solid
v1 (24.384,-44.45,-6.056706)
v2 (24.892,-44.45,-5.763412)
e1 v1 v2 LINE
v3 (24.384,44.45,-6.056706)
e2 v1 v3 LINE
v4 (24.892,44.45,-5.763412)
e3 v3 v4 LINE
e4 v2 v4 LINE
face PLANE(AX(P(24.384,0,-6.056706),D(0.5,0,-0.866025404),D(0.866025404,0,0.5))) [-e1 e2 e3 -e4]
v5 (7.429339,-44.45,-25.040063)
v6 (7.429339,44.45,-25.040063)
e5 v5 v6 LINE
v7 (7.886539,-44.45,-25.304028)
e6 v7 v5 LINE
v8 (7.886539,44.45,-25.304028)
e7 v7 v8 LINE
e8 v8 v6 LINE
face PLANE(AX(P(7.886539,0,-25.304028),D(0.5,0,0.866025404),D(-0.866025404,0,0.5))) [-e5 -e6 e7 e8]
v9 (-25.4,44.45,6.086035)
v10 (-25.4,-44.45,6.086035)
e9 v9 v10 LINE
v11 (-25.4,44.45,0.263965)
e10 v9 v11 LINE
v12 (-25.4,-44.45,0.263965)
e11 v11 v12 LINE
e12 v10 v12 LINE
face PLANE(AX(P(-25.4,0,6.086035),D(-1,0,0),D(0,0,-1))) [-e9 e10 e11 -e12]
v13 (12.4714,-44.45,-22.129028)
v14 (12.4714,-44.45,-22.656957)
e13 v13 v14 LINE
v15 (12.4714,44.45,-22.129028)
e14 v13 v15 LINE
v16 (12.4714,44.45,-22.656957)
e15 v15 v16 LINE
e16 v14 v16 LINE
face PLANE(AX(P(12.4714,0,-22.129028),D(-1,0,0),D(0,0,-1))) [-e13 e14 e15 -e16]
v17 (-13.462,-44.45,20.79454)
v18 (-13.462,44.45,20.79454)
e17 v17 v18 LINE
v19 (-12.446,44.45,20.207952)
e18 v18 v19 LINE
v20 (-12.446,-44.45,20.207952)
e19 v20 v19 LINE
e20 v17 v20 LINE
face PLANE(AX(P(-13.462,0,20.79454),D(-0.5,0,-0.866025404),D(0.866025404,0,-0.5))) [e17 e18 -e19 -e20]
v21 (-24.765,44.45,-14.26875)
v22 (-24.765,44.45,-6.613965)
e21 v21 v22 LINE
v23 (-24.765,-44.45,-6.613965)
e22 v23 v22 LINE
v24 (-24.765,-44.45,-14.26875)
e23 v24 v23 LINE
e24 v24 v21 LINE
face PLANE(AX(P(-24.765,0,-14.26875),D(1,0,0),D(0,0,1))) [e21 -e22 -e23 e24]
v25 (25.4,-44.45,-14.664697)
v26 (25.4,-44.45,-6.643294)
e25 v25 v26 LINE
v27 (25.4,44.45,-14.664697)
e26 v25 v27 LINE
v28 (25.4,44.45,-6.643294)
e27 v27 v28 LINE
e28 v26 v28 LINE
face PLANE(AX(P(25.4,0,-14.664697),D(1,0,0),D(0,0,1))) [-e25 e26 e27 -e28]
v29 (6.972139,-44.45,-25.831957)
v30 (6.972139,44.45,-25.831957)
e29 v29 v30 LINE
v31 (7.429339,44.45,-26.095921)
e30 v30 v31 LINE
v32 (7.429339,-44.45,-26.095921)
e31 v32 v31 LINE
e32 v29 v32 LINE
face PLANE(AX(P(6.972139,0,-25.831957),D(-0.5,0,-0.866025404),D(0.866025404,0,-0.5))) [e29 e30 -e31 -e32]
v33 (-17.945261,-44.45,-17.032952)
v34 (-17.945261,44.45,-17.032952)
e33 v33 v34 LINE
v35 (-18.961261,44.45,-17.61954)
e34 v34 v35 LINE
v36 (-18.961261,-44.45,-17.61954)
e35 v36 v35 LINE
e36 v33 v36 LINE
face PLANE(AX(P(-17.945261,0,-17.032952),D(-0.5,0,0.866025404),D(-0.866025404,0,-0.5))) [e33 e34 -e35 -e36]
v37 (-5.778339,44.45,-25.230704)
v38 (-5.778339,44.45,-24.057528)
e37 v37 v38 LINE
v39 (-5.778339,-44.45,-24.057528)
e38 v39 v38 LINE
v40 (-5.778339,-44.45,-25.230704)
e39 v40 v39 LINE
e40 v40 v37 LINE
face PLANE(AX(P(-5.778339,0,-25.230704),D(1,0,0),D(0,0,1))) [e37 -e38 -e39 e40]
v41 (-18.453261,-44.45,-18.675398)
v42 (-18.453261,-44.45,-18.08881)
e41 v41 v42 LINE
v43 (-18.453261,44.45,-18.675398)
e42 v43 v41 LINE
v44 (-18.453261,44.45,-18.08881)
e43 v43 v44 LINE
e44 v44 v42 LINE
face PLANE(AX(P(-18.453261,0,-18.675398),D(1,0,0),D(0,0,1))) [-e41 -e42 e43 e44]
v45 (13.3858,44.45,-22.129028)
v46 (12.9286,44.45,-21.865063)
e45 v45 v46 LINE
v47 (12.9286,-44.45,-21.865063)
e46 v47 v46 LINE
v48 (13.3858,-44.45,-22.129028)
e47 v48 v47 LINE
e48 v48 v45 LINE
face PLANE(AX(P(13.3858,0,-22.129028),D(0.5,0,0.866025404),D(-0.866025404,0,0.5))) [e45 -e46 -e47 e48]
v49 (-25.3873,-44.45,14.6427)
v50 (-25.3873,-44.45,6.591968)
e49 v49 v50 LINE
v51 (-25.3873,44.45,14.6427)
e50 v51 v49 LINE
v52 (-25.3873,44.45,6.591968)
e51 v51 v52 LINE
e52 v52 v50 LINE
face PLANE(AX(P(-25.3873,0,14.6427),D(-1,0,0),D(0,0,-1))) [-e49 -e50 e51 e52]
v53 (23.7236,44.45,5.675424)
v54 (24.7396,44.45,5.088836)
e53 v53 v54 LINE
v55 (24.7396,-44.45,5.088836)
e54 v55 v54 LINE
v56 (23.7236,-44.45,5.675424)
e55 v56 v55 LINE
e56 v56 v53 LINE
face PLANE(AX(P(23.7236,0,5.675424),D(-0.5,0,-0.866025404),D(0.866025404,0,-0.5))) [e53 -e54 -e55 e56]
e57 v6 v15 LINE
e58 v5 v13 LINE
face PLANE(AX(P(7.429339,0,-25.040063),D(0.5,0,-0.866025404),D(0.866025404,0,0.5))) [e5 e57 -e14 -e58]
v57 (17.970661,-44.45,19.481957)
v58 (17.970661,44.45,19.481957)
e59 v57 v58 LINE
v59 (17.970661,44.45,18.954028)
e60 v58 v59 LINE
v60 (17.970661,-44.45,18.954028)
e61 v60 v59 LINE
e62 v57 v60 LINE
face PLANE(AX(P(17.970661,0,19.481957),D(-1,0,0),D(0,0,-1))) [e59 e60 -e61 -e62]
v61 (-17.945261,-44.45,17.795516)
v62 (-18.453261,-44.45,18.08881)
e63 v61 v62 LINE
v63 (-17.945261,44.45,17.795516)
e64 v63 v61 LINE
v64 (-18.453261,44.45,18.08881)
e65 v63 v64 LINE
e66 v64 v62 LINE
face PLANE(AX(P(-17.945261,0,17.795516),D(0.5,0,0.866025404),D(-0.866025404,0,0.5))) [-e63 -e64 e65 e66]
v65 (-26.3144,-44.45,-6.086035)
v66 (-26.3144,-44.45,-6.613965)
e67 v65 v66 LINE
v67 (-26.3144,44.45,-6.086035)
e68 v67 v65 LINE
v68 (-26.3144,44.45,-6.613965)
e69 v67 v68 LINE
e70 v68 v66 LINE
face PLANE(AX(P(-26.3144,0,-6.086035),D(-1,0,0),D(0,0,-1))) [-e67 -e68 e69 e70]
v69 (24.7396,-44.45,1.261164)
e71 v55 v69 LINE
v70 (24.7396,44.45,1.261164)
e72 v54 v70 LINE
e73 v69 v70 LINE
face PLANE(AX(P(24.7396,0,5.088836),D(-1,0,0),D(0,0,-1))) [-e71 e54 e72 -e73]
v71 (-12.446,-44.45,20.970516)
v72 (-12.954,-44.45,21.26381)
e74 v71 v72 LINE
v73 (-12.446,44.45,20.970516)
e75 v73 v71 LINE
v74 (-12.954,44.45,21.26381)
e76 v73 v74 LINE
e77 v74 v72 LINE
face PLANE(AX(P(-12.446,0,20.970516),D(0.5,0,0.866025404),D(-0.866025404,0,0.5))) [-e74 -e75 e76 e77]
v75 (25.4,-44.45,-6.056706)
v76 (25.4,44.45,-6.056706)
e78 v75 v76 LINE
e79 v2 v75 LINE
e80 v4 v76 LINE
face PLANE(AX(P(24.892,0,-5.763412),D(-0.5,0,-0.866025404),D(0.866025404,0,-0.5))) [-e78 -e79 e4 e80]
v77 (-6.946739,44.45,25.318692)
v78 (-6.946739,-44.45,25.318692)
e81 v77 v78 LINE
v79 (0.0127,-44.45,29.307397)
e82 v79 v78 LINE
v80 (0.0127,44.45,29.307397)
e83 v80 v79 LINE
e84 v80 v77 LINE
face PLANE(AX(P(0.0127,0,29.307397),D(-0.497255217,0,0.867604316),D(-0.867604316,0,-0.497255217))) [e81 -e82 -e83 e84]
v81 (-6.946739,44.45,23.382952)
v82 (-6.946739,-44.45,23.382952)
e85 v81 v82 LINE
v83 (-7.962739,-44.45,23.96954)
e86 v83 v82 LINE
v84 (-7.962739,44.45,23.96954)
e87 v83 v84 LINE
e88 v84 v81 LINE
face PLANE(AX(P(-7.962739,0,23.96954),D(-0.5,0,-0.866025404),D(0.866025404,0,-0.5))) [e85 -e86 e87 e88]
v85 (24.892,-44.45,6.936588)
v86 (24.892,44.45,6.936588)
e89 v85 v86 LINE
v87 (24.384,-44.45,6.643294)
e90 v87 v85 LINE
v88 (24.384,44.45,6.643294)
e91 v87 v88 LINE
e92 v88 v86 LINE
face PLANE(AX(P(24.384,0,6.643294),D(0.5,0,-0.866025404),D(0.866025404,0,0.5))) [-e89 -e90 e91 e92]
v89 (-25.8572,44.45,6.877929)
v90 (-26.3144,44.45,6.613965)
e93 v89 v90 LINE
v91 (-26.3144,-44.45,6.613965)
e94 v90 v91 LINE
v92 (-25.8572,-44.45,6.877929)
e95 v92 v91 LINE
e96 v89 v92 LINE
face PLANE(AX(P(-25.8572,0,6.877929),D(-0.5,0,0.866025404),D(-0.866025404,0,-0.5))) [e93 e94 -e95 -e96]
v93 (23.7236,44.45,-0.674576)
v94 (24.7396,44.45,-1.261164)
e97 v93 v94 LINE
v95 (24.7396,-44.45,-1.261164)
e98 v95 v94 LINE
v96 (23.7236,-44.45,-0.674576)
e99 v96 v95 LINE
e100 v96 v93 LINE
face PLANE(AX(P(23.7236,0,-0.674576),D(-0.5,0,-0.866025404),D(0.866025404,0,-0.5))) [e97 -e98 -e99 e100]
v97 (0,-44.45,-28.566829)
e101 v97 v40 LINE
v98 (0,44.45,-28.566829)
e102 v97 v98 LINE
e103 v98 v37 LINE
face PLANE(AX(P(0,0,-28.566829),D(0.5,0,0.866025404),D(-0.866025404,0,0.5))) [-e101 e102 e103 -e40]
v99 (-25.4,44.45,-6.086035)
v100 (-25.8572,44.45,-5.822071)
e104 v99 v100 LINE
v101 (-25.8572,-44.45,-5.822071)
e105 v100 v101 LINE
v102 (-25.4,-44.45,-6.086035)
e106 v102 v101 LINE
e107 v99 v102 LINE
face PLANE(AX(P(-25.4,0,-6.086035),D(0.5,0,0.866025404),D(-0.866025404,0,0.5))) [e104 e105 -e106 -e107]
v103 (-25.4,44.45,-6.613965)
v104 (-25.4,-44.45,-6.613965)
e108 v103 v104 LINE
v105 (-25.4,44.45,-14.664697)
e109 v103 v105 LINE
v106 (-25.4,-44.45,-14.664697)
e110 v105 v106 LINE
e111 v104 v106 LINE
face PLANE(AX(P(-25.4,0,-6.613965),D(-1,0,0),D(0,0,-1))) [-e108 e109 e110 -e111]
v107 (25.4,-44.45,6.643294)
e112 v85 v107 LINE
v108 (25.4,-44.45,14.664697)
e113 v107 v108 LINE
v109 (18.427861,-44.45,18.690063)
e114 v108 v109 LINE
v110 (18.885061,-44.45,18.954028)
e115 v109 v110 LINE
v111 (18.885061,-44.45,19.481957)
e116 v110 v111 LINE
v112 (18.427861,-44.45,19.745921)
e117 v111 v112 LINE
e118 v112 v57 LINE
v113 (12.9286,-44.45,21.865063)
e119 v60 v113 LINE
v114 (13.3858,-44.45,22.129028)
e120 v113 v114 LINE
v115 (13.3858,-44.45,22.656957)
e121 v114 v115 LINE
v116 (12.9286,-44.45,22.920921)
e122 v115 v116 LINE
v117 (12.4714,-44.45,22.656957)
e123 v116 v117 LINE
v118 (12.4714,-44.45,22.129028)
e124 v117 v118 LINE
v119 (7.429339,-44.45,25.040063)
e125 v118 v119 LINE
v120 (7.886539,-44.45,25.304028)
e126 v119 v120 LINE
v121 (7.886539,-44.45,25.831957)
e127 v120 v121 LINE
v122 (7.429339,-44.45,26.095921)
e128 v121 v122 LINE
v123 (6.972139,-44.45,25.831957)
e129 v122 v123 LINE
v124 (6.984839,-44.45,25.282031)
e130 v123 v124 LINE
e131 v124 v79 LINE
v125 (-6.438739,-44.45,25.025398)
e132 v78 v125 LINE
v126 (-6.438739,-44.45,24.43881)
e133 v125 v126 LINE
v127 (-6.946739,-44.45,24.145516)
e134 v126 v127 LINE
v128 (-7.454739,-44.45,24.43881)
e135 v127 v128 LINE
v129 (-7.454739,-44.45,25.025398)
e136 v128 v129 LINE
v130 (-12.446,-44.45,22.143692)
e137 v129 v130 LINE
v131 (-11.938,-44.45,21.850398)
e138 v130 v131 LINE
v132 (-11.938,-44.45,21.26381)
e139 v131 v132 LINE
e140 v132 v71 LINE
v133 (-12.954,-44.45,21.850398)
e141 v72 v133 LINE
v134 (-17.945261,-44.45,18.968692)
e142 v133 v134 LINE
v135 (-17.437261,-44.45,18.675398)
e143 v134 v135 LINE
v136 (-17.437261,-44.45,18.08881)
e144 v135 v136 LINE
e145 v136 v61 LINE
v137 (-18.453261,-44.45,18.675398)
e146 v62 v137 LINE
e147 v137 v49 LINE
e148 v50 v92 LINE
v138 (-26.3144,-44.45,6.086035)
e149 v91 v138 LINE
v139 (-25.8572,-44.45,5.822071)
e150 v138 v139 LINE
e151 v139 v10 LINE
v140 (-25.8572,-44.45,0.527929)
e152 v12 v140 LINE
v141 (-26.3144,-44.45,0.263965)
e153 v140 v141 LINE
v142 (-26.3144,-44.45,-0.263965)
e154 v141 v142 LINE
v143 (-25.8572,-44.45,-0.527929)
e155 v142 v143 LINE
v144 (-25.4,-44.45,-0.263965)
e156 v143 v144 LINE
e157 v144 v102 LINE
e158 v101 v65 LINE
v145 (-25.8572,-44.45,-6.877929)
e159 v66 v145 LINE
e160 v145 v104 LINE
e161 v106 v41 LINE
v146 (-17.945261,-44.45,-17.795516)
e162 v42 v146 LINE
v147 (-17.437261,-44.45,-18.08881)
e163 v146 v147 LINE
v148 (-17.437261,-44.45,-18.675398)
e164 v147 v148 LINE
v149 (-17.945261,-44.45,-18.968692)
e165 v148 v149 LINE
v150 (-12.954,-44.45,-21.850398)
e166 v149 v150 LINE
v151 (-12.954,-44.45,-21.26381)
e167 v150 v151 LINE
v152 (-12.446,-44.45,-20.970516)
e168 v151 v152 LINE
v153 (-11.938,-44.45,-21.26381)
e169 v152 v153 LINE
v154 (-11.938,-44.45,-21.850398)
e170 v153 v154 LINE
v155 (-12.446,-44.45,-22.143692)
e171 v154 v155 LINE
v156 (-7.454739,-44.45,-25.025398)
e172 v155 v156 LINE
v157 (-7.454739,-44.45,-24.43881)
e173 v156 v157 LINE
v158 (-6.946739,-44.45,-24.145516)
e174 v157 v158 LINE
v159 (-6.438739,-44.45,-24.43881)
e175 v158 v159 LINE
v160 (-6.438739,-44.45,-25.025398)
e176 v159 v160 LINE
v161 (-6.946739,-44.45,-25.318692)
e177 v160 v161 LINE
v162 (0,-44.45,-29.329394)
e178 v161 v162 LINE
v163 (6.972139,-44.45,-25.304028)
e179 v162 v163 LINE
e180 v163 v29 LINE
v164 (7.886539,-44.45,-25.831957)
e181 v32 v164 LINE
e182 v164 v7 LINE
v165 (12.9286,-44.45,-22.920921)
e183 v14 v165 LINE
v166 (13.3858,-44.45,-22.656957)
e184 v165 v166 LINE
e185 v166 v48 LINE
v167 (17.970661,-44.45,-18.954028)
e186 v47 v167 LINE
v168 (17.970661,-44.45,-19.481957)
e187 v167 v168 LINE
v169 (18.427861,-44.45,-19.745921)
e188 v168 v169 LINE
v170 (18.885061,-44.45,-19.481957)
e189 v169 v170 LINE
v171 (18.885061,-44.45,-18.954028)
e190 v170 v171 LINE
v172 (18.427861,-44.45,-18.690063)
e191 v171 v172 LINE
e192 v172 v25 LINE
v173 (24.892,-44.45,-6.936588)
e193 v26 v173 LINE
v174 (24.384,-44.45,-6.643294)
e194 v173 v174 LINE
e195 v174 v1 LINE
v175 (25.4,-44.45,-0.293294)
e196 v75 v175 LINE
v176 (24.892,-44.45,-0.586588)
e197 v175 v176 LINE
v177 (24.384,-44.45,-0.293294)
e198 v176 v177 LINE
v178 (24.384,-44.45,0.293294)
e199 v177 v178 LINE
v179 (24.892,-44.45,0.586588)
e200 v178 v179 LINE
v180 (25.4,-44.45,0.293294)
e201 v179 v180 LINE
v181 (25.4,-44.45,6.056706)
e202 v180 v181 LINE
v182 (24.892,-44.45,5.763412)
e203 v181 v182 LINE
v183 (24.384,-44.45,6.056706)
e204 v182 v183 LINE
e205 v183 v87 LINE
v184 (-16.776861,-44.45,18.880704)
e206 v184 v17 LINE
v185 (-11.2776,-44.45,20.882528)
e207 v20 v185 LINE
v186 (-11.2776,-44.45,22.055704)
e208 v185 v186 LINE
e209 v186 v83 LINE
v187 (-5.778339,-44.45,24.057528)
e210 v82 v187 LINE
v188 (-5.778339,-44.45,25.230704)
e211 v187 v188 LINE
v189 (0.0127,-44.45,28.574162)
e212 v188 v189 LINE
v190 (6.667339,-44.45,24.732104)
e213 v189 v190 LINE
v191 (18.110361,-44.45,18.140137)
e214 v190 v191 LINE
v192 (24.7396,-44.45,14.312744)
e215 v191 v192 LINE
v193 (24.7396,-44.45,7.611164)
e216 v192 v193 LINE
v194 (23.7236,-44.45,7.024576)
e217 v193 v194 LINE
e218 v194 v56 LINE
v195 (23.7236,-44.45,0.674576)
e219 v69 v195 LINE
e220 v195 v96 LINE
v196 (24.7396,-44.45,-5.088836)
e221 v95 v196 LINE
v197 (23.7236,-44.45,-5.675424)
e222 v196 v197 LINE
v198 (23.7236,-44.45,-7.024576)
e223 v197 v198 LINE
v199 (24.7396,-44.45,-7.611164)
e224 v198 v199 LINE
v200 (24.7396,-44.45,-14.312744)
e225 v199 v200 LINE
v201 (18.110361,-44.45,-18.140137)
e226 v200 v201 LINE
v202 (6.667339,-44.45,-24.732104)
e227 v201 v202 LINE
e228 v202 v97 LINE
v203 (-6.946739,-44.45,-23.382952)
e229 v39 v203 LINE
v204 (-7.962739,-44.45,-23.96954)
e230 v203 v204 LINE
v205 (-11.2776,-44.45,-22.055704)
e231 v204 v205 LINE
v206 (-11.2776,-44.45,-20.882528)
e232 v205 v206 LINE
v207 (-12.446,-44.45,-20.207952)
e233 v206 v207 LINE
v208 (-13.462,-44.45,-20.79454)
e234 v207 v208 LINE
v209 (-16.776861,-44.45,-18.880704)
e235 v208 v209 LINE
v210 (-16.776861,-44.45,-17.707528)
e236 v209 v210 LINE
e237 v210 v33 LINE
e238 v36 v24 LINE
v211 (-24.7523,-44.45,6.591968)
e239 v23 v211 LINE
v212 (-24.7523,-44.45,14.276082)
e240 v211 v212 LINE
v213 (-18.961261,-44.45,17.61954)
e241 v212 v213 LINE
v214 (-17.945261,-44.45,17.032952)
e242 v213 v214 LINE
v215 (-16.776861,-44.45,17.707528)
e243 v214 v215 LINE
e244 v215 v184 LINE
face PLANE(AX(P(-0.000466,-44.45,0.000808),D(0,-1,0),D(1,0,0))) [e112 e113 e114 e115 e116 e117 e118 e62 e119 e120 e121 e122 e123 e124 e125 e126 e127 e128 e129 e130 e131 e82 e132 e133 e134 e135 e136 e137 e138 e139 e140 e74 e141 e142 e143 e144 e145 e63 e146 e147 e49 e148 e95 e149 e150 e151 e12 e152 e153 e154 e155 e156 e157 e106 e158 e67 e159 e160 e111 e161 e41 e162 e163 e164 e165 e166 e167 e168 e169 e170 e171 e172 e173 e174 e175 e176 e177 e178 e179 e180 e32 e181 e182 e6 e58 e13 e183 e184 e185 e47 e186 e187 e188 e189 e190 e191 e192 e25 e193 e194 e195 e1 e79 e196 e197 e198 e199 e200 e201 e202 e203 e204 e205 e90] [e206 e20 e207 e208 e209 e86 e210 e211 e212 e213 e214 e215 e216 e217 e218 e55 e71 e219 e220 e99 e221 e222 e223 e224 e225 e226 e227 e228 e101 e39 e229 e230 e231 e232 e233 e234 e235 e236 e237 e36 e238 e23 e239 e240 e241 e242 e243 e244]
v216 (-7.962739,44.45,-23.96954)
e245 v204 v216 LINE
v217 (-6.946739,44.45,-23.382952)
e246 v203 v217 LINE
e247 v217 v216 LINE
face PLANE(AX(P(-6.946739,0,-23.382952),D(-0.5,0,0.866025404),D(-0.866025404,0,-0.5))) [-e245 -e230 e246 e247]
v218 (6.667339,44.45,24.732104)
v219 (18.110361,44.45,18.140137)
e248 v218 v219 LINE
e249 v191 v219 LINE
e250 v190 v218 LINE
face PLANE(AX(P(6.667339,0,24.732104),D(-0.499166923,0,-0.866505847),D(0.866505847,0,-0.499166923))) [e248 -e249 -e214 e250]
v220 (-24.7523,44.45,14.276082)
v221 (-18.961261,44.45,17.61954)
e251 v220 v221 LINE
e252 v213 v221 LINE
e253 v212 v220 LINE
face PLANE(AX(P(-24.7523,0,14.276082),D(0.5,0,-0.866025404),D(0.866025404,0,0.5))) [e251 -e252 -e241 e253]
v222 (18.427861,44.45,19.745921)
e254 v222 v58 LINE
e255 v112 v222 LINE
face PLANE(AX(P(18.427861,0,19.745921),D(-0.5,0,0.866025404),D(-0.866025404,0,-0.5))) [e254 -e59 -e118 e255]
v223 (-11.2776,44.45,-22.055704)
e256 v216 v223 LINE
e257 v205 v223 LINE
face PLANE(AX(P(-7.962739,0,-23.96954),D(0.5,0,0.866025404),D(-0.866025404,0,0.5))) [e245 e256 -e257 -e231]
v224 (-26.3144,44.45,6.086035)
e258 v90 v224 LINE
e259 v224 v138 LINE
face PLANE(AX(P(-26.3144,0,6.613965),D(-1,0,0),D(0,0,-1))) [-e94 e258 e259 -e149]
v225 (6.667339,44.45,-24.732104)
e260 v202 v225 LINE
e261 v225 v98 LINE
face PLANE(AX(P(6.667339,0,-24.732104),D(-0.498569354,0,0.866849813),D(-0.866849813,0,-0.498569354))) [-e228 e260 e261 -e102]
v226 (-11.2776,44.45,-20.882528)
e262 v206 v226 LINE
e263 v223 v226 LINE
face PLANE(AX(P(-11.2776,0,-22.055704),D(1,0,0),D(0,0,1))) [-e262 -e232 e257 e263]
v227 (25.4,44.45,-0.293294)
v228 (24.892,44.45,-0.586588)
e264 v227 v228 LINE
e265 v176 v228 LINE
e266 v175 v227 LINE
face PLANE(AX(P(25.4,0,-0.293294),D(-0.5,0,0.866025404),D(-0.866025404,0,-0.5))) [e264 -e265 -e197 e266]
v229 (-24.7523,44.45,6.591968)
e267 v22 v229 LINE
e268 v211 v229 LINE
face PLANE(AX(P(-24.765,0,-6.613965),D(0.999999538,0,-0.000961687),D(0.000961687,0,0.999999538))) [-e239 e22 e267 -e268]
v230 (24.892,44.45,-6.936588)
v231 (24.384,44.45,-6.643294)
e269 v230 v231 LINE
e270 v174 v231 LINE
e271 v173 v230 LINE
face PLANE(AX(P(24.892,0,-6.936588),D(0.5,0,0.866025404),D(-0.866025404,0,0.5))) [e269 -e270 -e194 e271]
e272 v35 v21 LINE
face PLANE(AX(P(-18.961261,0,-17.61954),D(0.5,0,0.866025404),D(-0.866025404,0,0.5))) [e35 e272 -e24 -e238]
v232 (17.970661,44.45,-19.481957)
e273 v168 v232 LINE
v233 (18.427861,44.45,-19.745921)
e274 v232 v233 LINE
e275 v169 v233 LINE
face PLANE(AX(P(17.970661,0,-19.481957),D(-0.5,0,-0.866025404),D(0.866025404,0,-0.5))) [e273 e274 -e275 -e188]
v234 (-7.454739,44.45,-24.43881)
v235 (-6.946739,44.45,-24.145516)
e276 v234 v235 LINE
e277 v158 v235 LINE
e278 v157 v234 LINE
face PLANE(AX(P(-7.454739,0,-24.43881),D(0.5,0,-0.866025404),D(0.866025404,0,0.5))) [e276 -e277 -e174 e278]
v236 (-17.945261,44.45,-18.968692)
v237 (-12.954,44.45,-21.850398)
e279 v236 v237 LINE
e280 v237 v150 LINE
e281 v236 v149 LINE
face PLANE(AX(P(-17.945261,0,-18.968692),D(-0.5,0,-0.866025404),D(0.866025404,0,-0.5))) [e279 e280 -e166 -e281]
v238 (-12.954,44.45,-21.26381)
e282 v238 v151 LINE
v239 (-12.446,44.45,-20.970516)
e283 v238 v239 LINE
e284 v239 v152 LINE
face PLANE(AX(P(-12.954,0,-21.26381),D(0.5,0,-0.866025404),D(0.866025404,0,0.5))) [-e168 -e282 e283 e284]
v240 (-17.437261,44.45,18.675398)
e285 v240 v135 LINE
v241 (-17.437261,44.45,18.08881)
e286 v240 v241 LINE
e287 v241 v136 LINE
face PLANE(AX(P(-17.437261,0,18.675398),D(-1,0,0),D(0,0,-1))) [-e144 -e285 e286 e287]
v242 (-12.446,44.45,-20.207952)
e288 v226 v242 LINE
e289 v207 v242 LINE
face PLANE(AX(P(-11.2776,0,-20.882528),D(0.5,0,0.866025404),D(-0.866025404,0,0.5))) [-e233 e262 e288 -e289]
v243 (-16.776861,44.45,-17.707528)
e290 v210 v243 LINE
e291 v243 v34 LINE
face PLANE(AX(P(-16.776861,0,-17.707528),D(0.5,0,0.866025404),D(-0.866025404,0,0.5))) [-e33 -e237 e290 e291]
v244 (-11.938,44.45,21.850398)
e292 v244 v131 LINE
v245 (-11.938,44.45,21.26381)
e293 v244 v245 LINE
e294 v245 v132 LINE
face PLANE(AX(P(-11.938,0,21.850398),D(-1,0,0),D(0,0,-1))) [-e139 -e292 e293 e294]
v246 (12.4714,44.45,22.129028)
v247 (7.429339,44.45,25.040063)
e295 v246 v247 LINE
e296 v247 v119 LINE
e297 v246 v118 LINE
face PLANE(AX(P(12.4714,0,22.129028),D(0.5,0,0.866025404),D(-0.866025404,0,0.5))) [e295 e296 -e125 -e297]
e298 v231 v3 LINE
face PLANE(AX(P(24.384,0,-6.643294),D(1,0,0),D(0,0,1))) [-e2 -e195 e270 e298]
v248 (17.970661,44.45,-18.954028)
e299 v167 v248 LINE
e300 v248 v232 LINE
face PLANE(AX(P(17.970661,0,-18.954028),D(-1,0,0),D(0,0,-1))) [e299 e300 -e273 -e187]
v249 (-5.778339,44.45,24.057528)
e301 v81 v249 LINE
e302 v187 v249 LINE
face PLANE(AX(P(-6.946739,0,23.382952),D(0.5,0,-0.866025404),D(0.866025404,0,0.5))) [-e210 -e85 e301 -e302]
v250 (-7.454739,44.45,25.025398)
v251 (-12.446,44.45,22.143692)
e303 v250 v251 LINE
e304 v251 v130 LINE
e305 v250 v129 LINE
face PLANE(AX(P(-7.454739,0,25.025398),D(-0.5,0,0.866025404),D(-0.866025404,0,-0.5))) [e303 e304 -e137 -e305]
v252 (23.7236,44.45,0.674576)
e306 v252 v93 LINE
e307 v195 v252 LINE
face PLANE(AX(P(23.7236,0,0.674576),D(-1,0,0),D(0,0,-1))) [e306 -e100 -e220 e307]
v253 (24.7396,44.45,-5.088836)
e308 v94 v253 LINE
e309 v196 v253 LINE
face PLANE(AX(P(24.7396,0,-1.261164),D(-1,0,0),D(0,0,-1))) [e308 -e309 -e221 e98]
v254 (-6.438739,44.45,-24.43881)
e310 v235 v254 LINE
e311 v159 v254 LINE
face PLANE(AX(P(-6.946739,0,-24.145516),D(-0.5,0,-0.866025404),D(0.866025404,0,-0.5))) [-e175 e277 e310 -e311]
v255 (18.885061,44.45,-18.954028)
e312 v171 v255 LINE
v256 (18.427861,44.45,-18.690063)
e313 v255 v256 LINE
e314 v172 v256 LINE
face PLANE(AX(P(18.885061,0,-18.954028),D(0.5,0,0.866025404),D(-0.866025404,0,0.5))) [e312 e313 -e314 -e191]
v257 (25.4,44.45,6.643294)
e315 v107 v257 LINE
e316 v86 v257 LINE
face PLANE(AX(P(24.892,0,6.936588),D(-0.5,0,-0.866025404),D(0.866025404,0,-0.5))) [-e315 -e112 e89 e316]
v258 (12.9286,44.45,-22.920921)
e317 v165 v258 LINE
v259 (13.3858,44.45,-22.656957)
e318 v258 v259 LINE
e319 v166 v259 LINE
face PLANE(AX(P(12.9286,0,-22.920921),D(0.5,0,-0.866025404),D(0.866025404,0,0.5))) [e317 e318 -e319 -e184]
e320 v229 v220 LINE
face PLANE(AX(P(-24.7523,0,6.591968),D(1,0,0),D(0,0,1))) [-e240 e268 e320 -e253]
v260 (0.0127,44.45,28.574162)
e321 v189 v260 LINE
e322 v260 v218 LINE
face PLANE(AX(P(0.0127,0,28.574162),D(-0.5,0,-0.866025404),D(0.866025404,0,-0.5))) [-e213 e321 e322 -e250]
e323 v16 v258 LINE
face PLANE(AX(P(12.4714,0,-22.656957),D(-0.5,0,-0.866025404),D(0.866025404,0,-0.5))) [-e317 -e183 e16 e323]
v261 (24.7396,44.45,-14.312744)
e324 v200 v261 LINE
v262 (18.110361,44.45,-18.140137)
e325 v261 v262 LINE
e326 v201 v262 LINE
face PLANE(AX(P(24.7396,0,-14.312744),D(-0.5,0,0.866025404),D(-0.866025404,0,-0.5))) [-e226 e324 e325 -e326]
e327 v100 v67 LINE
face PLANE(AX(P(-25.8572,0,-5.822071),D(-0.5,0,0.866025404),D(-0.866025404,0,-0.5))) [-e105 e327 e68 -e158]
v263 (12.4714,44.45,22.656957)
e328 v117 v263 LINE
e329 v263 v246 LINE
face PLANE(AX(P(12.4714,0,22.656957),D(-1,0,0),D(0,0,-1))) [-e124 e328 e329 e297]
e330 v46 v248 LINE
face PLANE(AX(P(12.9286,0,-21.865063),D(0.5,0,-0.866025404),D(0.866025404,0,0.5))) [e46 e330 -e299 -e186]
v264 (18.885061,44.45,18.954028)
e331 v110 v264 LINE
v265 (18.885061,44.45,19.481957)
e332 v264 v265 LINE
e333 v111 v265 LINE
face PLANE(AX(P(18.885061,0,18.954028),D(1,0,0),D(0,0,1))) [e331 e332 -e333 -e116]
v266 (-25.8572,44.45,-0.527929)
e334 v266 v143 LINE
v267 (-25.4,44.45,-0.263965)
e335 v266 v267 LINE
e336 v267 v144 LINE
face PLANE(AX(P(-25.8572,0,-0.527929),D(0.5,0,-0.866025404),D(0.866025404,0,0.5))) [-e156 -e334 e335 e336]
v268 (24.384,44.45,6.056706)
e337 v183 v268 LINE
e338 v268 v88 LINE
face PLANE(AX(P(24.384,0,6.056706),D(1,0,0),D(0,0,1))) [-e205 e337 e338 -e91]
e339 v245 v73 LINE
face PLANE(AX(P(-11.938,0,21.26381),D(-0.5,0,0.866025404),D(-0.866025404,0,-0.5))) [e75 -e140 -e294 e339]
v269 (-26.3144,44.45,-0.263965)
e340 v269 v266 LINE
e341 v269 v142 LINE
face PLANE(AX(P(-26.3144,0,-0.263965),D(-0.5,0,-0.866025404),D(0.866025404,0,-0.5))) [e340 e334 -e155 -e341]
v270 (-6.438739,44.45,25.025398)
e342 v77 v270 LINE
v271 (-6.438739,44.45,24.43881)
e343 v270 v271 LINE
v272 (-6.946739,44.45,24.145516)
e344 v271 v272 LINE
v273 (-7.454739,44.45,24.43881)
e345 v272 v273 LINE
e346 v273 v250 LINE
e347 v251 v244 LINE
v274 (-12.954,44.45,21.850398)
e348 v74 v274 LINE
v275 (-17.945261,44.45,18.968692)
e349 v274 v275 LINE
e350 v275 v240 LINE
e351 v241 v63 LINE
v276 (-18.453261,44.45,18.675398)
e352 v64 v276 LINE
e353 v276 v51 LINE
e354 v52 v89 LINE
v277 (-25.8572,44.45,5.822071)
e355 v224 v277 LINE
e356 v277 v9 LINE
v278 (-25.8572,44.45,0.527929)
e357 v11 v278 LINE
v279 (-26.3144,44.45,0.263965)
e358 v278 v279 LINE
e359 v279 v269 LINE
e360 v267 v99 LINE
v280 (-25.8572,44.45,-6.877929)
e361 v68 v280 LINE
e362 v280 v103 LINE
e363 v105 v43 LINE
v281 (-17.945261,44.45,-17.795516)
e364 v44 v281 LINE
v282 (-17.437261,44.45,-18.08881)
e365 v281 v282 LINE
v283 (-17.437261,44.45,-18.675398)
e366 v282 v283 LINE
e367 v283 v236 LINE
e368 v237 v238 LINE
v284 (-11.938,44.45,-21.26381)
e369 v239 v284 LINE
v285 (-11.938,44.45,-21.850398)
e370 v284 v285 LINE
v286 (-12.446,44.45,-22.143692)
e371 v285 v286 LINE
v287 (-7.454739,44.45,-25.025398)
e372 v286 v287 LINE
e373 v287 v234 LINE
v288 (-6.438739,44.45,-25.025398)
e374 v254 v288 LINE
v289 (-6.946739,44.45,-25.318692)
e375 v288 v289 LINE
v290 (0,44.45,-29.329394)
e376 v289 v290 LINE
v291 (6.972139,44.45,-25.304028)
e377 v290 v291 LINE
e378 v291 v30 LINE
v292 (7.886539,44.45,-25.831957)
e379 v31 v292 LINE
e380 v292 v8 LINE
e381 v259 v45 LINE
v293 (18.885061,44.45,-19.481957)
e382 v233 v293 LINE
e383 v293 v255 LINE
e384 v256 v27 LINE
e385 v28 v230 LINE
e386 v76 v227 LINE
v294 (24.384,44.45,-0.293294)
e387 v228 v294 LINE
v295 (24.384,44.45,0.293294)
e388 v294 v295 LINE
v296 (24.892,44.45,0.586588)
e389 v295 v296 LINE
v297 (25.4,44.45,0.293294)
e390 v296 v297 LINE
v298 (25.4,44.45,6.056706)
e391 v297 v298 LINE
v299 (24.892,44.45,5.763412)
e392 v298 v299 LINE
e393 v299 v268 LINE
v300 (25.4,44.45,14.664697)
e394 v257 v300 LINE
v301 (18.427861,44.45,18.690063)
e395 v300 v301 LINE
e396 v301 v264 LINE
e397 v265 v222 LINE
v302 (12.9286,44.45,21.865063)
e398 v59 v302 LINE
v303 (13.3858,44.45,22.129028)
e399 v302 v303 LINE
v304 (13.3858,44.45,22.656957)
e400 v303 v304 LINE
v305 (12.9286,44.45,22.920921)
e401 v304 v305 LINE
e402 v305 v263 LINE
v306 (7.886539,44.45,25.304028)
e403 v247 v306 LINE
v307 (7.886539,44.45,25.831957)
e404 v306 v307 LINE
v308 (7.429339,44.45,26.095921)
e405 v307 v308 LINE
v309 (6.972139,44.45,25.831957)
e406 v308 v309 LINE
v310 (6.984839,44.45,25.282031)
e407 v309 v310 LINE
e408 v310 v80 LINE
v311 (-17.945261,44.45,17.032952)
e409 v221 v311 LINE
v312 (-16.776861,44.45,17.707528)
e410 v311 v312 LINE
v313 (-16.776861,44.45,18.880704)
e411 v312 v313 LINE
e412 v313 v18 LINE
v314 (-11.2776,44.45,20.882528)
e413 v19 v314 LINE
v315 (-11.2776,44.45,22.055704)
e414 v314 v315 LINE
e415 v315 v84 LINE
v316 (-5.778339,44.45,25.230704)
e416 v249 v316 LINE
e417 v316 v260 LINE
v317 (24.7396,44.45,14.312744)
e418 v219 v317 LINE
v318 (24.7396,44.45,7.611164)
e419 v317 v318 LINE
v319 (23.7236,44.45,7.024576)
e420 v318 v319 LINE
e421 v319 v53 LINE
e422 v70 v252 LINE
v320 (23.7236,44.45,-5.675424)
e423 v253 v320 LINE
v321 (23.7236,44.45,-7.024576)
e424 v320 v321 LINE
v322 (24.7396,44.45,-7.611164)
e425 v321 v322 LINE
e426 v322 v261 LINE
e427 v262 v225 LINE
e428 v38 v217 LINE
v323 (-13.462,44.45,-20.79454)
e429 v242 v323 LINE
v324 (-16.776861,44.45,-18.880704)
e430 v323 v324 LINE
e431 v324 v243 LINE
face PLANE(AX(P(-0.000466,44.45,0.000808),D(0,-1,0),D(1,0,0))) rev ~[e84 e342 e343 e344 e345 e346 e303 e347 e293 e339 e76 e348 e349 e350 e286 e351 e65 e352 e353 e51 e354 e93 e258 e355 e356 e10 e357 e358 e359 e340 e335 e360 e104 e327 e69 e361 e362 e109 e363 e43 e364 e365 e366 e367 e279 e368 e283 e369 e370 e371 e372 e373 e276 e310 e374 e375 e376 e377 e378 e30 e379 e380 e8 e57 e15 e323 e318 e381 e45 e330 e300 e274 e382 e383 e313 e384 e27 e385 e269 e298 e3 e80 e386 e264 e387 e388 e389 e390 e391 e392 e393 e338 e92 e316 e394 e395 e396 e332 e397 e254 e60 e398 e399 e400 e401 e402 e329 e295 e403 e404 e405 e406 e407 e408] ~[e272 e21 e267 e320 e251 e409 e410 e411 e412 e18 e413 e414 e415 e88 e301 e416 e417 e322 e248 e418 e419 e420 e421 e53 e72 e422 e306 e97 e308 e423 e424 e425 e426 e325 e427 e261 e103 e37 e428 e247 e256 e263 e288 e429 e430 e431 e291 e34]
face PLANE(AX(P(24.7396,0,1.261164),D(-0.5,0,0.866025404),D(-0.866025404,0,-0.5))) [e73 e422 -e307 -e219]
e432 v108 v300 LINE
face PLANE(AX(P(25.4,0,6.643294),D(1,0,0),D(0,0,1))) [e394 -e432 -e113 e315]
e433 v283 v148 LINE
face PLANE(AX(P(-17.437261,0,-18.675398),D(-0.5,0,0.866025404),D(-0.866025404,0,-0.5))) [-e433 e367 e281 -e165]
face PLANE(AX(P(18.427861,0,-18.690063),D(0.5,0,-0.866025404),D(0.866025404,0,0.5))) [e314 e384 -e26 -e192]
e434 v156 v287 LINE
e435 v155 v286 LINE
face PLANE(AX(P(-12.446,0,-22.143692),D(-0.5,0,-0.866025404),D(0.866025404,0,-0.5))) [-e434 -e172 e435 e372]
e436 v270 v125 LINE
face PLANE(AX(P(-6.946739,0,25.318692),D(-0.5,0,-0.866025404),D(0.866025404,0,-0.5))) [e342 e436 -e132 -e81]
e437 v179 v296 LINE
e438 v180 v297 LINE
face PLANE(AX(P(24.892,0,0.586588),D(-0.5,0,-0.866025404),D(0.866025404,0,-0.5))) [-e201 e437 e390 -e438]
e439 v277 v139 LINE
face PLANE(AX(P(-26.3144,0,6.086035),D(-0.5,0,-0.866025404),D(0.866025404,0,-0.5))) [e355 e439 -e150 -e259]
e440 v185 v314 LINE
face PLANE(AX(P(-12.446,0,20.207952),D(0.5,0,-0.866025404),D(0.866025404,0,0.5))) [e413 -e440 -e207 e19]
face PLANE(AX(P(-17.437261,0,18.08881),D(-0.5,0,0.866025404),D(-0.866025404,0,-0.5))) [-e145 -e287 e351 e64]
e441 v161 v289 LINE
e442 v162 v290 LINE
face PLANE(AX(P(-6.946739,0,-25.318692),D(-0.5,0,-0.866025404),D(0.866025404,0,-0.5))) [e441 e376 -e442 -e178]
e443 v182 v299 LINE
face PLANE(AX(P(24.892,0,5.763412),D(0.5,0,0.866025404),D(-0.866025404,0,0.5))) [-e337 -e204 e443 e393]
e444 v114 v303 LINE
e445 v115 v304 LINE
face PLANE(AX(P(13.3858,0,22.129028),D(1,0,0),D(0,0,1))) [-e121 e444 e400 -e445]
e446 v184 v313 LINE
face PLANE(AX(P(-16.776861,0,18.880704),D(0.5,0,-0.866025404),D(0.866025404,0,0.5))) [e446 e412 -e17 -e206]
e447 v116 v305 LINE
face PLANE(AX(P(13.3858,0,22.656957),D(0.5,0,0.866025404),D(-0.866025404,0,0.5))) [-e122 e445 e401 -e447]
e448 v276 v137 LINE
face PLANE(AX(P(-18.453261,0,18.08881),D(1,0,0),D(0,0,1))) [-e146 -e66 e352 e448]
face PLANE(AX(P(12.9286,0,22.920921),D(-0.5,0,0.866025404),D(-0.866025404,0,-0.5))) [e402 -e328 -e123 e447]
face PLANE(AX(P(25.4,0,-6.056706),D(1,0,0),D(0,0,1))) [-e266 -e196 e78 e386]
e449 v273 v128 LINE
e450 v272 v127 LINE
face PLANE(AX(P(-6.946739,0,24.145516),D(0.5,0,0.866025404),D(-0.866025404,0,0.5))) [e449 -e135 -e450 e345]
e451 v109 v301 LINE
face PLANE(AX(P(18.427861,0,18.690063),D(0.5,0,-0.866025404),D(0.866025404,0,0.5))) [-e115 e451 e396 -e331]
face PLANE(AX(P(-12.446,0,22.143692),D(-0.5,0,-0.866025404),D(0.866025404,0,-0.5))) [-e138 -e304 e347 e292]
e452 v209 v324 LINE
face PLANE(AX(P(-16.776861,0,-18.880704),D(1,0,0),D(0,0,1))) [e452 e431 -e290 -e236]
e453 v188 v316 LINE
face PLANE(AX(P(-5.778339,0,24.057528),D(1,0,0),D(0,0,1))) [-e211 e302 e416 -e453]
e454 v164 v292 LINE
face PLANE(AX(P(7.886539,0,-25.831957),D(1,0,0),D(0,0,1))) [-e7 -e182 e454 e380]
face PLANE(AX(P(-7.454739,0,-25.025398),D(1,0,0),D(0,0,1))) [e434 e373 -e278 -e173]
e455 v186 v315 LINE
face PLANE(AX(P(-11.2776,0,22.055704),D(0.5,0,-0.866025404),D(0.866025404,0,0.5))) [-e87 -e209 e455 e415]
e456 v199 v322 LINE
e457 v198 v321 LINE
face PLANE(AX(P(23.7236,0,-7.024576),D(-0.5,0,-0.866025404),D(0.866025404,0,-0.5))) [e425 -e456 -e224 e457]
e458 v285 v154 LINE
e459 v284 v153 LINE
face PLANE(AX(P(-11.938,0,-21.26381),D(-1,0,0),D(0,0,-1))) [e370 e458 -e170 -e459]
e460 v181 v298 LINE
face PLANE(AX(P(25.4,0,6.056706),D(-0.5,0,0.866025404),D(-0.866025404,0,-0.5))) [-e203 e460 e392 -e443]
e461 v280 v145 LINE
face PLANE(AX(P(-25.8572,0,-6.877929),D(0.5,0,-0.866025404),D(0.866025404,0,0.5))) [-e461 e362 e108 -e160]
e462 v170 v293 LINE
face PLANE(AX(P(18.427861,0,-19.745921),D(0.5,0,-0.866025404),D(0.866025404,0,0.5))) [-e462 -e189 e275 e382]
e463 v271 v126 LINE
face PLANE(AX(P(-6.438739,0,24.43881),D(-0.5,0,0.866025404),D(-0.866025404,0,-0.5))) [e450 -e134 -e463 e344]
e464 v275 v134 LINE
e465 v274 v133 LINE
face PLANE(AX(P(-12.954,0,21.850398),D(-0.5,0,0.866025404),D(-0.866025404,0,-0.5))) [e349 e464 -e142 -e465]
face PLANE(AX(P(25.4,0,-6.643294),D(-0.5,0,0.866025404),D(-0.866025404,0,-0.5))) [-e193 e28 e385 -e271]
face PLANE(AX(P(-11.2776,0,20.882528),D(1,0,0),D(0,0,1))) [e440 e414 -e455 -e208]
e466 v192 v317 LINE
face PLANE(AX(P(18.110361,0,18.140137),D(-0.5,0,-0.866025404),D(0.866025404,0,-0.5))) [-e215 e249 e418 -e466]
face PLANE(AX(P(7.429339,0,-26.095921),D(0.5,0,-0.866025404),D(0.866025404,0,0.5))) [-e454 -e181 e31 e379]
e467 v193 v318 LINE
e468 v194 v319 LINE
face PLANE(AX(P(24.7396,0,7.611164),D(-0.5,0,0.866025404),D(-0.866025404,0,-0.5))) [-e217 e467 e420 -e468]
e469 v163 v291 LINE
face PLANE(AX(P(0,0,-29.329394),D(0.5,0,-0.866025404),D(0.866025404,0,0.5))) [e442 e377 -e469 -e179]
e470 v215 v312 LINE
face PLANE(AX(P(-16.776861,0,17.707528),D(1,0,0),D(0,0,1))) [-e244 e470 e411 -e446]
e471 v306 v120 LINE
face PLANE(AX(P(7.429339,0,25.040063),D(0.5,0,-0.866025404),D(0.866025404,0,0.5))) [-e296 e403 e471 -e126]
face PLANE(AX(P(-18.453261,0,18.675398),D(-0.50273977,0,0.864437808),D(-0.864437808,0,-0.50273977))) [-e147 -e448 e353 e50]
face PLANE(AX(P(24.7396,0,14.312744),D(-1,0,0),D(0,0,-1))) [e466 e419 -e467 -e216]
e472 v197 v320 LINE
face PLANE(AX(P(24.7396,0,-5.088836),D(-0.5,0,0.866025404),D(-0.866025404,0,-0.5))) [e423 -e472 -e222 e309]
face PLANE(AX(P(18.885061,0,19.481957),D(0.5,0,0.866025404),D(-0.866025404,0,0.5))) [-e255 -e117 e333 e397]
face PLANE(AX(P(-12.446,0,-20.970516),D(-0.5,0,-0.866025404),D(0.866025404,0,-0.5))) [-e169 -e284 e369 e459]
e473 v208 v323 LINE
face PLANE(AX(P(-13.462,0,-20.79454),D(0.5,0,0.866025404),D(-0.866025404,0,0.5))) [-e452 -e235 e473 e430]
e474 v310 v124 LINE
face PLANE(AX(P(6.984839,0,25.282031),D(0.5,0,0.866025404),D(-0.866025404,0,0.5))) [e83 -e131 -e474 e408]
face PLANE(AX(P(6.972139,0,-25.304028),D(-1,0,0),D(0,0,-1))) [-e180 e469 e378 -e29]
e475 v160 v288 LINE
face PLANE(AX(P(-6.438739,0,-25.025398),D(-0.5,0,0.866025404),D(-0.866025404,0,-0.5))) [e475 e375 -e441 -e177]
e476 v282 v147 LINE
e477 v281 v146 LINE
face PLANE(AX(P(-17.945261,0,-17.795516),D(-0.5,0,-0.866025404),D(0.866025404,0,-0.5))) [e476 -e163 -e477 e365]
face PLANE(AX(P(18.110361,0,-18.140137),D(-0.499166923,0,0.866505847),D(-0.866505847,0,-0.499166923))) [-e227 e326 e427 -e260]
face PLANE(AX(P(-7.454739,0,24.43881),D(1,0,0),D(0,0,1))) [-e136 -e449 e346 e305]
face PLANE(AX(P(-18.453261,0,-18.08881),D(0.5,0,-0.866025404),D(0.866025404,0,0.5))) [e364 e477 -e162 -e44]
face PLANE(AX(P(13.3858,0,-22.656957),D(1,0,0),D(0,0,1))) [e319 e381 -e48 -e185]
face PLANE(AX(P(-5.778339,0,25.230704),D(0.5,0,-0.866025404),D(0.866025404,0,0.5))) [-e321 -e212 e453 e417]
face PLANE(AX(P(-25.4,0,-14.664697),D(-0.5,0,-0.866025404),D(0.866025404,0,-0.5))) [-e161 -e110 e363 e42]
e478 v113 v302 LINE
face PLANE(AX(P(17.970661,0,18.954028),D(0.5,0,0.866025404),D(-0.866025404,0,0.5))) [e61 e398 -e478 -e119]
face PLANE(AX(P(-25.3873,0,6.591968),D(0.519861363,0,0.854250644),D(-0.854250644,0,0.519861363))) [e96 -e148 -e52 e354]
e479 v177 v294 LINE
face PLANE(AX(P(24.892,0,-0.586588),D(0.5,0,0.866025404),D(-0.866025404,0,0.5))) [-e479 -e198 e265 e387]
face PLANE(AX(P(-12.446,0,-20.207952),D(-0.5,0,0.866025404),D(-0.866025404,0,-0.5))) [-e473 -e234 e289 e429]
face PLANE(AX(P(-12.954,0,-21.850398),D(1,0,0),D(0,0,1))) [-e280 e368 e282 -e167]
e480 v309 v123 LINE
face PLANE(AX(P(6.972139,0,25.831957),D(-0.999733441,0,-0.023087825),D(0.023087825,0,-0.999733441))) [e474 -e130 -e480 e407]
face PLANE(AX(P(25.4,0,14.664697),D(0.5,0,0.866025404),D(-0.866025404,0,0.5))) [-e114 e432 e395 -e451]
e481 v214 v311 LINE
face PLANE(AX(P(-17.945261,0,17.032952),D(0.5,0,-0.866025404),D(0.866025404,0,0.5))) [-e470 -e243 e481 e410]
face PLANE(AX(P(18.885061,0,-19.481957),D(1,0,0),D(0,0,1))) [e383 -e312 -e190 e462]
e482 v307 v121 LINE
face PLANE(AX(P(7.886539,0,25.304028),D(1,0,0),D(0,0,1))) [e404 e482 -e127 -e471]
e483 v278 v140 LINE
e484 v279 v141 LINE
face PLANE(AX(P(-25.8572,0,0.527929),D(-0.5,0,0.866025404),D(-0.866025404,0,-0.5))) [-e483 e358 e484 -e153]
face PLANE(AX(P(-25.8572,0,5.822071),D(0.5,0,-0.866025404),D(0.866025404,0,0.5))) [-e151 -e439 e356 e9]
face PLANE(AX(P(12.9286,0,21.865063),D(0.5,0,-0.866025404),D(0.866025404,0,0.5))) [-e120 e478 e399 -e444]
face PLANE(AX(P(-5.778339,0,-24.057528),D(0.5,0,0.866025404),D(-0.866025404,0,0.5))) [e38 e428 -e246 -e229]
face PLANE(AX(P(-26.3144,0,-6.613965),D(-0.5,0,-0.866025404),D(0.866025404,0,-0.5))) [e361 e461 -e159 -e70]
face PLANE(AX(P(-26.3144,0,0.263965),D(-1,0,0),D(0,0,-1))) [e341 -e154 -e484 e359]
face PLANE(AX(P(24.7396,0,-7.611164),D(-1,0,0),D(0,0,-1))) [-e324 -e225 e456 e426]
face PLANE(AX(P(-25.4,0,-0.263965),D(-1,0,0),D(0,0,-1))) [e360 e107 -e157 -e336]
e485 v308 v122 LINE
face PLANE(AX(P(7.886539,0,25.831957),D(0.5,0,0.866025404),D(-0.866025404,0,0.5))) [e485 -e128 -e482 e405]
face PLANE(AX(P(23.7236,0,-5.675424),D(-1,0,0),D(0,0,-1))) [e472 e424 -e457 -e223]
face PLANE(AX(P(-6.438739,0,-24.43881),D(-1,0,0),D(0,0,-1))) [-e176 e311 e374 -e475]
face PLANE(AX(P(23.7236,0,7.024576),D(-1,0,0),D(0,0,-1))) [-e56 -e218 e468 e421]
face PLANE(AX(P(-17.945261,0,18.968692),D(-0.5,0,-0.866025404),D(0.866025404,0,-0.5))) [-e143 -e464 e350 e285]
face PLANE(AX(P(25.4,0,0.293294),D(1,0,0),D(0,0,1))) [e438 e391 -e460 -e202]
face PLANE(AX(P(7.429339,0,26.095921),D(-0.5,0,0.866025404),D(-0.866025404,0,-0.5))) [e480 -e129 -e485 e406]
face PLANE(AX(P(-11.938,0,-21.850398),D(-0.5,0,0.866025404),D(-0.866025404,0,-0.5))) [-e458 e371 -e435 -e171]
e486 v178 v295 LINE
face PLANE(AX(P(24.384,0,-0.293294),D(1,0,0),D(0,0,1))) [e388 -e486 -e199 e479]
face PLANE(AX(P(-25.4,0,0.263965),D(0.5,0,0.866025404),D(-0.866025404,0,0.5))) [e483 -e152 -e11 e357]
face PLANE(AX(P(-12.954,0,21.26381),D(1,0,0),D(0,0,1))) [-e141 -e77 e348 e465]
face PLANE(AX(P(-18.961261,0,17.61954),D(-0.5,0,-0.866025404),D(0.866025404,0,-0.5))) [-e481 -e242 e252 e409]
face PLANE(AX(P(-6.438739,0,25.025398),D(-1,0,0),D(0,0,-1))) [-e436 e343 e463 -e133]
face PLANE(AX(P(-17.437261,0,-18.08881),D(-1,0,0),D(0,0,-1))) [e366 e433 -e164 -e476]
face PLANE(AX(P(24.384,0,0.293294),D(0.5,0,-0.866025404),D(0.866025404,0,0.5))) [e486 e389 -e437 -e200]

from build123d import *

# Parameters (mm, degrees)
F1_DEPTH = 44.45


with BuildPart() as f1:
    # F0 (on Front) → F1 (new body, symmetric)
    with BuildSketch(Plane.XZ):
        Polygon((12.4714, 22.6569566138), (12.4714, 22.1290275277), (7.429338686, 25.0400629846), (7.886538686, 25.3040275277), (7.886538686, 25.8319566138), (7.429338686, 26.0959211569), (6.972138686, 25.8319566138), (6.984838669, 25.2820305117), (0.0126999831, 29.3073966589), (-6.946738686, 25.3186922245), (-6.438738686, 25.0253982878), (-6.438738686, 24.4388104143), (-6.946738686, 24.1455164775), (-7.454738686, 24.4388104143), (-7.454738686, 25.0253982878), (-12.446, 22.1436922245), (-11.938, 21.8503982878), (-11.938, 21.2638104143), (-12.446, 20.9705164775), (-12.954, 21.2638104143), (-12.954, 21.8503982878), (-17.945261314, 18.9686922245), (-17.437261314, 18.6753982878), (-17.437261314, 18.0888104143), (-17.945261314, 17.7955164775), (-18.453261314, 18.0888104143), (-18.453261314, 18.6753982878), (-25.3873000169, 14.6426998215), (-25.3873000169, 6.5919675272), (-25.8572, 6.8779290861), (-26.3144, 6.6139645431), (-26.3144, 6.0860354569), (-25.8572, 5.8220709139), (-25.4, 6.0860354569), (-25.4, 0.2639645431), (-25.8572, 0.5279290861), (-26.3144, 0.2639645431), (-26.3144, -0.2639645431), (-25.8572, -0.5279290861), (-25.4, -0.2639645431), (-25.4, -6.0860354569), (-25.8572, -5.8220709139), (-26.3144, -6.0860354569), (-26.3144, -6.6139645431), (-25.8572, -6.8779290861), (-25.4, -6.6139645431), (-25.4, -14.6646968374), (-18.453261314, -18.6753982878), (-18.453261314, -18.0888104143), (-17.945261314, -17.7955164775), (-17.437261314, -18.0888104143), (-17.437261314, -18.6753982878), (-17.945261314, -18.9686922245), (-12.954, -21.8503982878), (-12.954, -21.2638104143), (-12.446, -20.9705164775), (-11.938, -21.2638104143), (-11.938, -21.8503982878), (-12.446, -22.1436922245), (-7.454738686, -25.0253982878), (-7.454738686, -24.4388104143), (-6.946738686, -24.1455164775), (-6.438738686, -24.4388104143), (-6.438738686, -25.0253982878), (-6.946738686, -25.3186922245), (0, -29.3293936748), (6.972138686, -25.3040275277), (6.972138686, -25.8319566138), (7.429338686, -26.0959211569), (7.886538686, -25.8319566138), (7.886538686, -25.3040275277), (7.429338686, -25.0400629846), (12.4714, -22.1290275277), (12.4714, -22.6569566138), (12.9286, -22.9209211569), (13.3858, -22.6569566138), (13.3858, -22.1290275277), (12.9286, -21.8650629846), (17.970661314, -18.9540275277), (17.970661314, -19.4819566138), (18.427861314, -19.7459211569), (18.885061314, -19.4819566138), (18.885061314, -18.9540275277), (18.427861314, -18.6900629846), (25.4, -14.6646968374), (25.4, -6.6432939367), (24.892, -6.9365878735), (24.384, -6.6432939367), (24.384, -6.0567060633), (24.892, -5.7634121265), (25.4, -6.0567060633), (25.4, -0.2932939367), (24.892, -0.5865878735), (24.384, -0.2932939367), (24.384, 0.2932939367), (24.892, 0.5865878735), (25.4, 0.2932939367), (25.4, 6.0567060633), (24.892, 5.7634121265), (24.384, 6.0567060633), (24.384, 6.6432939367), (24.892, 6.9365878735), (25.4, 6.6432939367), (25.4, 14.6646968374), (18.427861314, 18.6900629846), (18.885061314, 18.9540275277), (18.885061314, 19.4819566138), (18.427861314, 19.7459211569), (17.970661314, 19.4819566138), (17.970661314, 18.9540275277), (12.9286, 21.8650629846), (13.3858, 22.1290275277), (13.3858, 22.6569566138), (12.9286, 22.9209211569), align=None)
        Polygon((-6.946738686, 23.3829522811), (-5.7783387198, 24.057528316), (-5.7783387198, 25.230704063), (0.0126999831, 28.574161817), (6.667338669, 24.7321043803), (18.110361314, 18.1401368532), (24.7396000339, 14.3127440938), (24.7396000339, 7.6111639085), (23.7236000339, 7.024576035), (23.7236000339, 5.675423965), (24.7396000339, 5.0888360915), (24.7396000339, 1.2611639085), (23.7236000339, 0.674576035), (23.7236000339, -0.674576035), (24.7396000339, -1.2611639085), (24.7396000339, -5.0888360915), (23.7236000339, -5.675423965), (23.7236000339, -7.024576035), (24.7396000339, -7.6111639085), (24.7396000339, -14.3127440938), (18.110361314, -18.1401368532), (6.667338669, -24.7321043803), (0, -28.5668294784), (-5.7783387198, -25.230704063), (-5.7783387198, -24.057528316), (-6.946738686, -23.3829522811), (-7.962738686, -23.9695401546), (-11.2776000339, -22.055704063), (-11.2776000339, -20.882528316), (-12.446, -20.2079522811), (-13.462, -20.7945401546), (-16.7768613479, -18.880704063), (-16.7768613479, -17.707528316), (-17.945261314, -17.0329522811), (-18.961261314, -17.6195401546), (-24.765, -14.2687500619), (-24.765, -6.6139645431), (-24.7523000169, 6.5919675272), (-24.7523000169, 14.2760824006), (-18.961261314, 17.6195401546), (-17.945261314, 17.0329522811), (-16.7768613479, 17.707528316), (-16.7768613479, 18.880704063), (-13.462, 20.7945401546), (-12.446, 20.2079522811), (-11.2776000339, 20.882528316), (-11.2776000339, 22.055704063), (-7.962738686, 23.9695401546), align=None, mode=Mode.SUBTRACT)
    extrude(amount=F1_DEPTH, both=True)


solid = f1.part
